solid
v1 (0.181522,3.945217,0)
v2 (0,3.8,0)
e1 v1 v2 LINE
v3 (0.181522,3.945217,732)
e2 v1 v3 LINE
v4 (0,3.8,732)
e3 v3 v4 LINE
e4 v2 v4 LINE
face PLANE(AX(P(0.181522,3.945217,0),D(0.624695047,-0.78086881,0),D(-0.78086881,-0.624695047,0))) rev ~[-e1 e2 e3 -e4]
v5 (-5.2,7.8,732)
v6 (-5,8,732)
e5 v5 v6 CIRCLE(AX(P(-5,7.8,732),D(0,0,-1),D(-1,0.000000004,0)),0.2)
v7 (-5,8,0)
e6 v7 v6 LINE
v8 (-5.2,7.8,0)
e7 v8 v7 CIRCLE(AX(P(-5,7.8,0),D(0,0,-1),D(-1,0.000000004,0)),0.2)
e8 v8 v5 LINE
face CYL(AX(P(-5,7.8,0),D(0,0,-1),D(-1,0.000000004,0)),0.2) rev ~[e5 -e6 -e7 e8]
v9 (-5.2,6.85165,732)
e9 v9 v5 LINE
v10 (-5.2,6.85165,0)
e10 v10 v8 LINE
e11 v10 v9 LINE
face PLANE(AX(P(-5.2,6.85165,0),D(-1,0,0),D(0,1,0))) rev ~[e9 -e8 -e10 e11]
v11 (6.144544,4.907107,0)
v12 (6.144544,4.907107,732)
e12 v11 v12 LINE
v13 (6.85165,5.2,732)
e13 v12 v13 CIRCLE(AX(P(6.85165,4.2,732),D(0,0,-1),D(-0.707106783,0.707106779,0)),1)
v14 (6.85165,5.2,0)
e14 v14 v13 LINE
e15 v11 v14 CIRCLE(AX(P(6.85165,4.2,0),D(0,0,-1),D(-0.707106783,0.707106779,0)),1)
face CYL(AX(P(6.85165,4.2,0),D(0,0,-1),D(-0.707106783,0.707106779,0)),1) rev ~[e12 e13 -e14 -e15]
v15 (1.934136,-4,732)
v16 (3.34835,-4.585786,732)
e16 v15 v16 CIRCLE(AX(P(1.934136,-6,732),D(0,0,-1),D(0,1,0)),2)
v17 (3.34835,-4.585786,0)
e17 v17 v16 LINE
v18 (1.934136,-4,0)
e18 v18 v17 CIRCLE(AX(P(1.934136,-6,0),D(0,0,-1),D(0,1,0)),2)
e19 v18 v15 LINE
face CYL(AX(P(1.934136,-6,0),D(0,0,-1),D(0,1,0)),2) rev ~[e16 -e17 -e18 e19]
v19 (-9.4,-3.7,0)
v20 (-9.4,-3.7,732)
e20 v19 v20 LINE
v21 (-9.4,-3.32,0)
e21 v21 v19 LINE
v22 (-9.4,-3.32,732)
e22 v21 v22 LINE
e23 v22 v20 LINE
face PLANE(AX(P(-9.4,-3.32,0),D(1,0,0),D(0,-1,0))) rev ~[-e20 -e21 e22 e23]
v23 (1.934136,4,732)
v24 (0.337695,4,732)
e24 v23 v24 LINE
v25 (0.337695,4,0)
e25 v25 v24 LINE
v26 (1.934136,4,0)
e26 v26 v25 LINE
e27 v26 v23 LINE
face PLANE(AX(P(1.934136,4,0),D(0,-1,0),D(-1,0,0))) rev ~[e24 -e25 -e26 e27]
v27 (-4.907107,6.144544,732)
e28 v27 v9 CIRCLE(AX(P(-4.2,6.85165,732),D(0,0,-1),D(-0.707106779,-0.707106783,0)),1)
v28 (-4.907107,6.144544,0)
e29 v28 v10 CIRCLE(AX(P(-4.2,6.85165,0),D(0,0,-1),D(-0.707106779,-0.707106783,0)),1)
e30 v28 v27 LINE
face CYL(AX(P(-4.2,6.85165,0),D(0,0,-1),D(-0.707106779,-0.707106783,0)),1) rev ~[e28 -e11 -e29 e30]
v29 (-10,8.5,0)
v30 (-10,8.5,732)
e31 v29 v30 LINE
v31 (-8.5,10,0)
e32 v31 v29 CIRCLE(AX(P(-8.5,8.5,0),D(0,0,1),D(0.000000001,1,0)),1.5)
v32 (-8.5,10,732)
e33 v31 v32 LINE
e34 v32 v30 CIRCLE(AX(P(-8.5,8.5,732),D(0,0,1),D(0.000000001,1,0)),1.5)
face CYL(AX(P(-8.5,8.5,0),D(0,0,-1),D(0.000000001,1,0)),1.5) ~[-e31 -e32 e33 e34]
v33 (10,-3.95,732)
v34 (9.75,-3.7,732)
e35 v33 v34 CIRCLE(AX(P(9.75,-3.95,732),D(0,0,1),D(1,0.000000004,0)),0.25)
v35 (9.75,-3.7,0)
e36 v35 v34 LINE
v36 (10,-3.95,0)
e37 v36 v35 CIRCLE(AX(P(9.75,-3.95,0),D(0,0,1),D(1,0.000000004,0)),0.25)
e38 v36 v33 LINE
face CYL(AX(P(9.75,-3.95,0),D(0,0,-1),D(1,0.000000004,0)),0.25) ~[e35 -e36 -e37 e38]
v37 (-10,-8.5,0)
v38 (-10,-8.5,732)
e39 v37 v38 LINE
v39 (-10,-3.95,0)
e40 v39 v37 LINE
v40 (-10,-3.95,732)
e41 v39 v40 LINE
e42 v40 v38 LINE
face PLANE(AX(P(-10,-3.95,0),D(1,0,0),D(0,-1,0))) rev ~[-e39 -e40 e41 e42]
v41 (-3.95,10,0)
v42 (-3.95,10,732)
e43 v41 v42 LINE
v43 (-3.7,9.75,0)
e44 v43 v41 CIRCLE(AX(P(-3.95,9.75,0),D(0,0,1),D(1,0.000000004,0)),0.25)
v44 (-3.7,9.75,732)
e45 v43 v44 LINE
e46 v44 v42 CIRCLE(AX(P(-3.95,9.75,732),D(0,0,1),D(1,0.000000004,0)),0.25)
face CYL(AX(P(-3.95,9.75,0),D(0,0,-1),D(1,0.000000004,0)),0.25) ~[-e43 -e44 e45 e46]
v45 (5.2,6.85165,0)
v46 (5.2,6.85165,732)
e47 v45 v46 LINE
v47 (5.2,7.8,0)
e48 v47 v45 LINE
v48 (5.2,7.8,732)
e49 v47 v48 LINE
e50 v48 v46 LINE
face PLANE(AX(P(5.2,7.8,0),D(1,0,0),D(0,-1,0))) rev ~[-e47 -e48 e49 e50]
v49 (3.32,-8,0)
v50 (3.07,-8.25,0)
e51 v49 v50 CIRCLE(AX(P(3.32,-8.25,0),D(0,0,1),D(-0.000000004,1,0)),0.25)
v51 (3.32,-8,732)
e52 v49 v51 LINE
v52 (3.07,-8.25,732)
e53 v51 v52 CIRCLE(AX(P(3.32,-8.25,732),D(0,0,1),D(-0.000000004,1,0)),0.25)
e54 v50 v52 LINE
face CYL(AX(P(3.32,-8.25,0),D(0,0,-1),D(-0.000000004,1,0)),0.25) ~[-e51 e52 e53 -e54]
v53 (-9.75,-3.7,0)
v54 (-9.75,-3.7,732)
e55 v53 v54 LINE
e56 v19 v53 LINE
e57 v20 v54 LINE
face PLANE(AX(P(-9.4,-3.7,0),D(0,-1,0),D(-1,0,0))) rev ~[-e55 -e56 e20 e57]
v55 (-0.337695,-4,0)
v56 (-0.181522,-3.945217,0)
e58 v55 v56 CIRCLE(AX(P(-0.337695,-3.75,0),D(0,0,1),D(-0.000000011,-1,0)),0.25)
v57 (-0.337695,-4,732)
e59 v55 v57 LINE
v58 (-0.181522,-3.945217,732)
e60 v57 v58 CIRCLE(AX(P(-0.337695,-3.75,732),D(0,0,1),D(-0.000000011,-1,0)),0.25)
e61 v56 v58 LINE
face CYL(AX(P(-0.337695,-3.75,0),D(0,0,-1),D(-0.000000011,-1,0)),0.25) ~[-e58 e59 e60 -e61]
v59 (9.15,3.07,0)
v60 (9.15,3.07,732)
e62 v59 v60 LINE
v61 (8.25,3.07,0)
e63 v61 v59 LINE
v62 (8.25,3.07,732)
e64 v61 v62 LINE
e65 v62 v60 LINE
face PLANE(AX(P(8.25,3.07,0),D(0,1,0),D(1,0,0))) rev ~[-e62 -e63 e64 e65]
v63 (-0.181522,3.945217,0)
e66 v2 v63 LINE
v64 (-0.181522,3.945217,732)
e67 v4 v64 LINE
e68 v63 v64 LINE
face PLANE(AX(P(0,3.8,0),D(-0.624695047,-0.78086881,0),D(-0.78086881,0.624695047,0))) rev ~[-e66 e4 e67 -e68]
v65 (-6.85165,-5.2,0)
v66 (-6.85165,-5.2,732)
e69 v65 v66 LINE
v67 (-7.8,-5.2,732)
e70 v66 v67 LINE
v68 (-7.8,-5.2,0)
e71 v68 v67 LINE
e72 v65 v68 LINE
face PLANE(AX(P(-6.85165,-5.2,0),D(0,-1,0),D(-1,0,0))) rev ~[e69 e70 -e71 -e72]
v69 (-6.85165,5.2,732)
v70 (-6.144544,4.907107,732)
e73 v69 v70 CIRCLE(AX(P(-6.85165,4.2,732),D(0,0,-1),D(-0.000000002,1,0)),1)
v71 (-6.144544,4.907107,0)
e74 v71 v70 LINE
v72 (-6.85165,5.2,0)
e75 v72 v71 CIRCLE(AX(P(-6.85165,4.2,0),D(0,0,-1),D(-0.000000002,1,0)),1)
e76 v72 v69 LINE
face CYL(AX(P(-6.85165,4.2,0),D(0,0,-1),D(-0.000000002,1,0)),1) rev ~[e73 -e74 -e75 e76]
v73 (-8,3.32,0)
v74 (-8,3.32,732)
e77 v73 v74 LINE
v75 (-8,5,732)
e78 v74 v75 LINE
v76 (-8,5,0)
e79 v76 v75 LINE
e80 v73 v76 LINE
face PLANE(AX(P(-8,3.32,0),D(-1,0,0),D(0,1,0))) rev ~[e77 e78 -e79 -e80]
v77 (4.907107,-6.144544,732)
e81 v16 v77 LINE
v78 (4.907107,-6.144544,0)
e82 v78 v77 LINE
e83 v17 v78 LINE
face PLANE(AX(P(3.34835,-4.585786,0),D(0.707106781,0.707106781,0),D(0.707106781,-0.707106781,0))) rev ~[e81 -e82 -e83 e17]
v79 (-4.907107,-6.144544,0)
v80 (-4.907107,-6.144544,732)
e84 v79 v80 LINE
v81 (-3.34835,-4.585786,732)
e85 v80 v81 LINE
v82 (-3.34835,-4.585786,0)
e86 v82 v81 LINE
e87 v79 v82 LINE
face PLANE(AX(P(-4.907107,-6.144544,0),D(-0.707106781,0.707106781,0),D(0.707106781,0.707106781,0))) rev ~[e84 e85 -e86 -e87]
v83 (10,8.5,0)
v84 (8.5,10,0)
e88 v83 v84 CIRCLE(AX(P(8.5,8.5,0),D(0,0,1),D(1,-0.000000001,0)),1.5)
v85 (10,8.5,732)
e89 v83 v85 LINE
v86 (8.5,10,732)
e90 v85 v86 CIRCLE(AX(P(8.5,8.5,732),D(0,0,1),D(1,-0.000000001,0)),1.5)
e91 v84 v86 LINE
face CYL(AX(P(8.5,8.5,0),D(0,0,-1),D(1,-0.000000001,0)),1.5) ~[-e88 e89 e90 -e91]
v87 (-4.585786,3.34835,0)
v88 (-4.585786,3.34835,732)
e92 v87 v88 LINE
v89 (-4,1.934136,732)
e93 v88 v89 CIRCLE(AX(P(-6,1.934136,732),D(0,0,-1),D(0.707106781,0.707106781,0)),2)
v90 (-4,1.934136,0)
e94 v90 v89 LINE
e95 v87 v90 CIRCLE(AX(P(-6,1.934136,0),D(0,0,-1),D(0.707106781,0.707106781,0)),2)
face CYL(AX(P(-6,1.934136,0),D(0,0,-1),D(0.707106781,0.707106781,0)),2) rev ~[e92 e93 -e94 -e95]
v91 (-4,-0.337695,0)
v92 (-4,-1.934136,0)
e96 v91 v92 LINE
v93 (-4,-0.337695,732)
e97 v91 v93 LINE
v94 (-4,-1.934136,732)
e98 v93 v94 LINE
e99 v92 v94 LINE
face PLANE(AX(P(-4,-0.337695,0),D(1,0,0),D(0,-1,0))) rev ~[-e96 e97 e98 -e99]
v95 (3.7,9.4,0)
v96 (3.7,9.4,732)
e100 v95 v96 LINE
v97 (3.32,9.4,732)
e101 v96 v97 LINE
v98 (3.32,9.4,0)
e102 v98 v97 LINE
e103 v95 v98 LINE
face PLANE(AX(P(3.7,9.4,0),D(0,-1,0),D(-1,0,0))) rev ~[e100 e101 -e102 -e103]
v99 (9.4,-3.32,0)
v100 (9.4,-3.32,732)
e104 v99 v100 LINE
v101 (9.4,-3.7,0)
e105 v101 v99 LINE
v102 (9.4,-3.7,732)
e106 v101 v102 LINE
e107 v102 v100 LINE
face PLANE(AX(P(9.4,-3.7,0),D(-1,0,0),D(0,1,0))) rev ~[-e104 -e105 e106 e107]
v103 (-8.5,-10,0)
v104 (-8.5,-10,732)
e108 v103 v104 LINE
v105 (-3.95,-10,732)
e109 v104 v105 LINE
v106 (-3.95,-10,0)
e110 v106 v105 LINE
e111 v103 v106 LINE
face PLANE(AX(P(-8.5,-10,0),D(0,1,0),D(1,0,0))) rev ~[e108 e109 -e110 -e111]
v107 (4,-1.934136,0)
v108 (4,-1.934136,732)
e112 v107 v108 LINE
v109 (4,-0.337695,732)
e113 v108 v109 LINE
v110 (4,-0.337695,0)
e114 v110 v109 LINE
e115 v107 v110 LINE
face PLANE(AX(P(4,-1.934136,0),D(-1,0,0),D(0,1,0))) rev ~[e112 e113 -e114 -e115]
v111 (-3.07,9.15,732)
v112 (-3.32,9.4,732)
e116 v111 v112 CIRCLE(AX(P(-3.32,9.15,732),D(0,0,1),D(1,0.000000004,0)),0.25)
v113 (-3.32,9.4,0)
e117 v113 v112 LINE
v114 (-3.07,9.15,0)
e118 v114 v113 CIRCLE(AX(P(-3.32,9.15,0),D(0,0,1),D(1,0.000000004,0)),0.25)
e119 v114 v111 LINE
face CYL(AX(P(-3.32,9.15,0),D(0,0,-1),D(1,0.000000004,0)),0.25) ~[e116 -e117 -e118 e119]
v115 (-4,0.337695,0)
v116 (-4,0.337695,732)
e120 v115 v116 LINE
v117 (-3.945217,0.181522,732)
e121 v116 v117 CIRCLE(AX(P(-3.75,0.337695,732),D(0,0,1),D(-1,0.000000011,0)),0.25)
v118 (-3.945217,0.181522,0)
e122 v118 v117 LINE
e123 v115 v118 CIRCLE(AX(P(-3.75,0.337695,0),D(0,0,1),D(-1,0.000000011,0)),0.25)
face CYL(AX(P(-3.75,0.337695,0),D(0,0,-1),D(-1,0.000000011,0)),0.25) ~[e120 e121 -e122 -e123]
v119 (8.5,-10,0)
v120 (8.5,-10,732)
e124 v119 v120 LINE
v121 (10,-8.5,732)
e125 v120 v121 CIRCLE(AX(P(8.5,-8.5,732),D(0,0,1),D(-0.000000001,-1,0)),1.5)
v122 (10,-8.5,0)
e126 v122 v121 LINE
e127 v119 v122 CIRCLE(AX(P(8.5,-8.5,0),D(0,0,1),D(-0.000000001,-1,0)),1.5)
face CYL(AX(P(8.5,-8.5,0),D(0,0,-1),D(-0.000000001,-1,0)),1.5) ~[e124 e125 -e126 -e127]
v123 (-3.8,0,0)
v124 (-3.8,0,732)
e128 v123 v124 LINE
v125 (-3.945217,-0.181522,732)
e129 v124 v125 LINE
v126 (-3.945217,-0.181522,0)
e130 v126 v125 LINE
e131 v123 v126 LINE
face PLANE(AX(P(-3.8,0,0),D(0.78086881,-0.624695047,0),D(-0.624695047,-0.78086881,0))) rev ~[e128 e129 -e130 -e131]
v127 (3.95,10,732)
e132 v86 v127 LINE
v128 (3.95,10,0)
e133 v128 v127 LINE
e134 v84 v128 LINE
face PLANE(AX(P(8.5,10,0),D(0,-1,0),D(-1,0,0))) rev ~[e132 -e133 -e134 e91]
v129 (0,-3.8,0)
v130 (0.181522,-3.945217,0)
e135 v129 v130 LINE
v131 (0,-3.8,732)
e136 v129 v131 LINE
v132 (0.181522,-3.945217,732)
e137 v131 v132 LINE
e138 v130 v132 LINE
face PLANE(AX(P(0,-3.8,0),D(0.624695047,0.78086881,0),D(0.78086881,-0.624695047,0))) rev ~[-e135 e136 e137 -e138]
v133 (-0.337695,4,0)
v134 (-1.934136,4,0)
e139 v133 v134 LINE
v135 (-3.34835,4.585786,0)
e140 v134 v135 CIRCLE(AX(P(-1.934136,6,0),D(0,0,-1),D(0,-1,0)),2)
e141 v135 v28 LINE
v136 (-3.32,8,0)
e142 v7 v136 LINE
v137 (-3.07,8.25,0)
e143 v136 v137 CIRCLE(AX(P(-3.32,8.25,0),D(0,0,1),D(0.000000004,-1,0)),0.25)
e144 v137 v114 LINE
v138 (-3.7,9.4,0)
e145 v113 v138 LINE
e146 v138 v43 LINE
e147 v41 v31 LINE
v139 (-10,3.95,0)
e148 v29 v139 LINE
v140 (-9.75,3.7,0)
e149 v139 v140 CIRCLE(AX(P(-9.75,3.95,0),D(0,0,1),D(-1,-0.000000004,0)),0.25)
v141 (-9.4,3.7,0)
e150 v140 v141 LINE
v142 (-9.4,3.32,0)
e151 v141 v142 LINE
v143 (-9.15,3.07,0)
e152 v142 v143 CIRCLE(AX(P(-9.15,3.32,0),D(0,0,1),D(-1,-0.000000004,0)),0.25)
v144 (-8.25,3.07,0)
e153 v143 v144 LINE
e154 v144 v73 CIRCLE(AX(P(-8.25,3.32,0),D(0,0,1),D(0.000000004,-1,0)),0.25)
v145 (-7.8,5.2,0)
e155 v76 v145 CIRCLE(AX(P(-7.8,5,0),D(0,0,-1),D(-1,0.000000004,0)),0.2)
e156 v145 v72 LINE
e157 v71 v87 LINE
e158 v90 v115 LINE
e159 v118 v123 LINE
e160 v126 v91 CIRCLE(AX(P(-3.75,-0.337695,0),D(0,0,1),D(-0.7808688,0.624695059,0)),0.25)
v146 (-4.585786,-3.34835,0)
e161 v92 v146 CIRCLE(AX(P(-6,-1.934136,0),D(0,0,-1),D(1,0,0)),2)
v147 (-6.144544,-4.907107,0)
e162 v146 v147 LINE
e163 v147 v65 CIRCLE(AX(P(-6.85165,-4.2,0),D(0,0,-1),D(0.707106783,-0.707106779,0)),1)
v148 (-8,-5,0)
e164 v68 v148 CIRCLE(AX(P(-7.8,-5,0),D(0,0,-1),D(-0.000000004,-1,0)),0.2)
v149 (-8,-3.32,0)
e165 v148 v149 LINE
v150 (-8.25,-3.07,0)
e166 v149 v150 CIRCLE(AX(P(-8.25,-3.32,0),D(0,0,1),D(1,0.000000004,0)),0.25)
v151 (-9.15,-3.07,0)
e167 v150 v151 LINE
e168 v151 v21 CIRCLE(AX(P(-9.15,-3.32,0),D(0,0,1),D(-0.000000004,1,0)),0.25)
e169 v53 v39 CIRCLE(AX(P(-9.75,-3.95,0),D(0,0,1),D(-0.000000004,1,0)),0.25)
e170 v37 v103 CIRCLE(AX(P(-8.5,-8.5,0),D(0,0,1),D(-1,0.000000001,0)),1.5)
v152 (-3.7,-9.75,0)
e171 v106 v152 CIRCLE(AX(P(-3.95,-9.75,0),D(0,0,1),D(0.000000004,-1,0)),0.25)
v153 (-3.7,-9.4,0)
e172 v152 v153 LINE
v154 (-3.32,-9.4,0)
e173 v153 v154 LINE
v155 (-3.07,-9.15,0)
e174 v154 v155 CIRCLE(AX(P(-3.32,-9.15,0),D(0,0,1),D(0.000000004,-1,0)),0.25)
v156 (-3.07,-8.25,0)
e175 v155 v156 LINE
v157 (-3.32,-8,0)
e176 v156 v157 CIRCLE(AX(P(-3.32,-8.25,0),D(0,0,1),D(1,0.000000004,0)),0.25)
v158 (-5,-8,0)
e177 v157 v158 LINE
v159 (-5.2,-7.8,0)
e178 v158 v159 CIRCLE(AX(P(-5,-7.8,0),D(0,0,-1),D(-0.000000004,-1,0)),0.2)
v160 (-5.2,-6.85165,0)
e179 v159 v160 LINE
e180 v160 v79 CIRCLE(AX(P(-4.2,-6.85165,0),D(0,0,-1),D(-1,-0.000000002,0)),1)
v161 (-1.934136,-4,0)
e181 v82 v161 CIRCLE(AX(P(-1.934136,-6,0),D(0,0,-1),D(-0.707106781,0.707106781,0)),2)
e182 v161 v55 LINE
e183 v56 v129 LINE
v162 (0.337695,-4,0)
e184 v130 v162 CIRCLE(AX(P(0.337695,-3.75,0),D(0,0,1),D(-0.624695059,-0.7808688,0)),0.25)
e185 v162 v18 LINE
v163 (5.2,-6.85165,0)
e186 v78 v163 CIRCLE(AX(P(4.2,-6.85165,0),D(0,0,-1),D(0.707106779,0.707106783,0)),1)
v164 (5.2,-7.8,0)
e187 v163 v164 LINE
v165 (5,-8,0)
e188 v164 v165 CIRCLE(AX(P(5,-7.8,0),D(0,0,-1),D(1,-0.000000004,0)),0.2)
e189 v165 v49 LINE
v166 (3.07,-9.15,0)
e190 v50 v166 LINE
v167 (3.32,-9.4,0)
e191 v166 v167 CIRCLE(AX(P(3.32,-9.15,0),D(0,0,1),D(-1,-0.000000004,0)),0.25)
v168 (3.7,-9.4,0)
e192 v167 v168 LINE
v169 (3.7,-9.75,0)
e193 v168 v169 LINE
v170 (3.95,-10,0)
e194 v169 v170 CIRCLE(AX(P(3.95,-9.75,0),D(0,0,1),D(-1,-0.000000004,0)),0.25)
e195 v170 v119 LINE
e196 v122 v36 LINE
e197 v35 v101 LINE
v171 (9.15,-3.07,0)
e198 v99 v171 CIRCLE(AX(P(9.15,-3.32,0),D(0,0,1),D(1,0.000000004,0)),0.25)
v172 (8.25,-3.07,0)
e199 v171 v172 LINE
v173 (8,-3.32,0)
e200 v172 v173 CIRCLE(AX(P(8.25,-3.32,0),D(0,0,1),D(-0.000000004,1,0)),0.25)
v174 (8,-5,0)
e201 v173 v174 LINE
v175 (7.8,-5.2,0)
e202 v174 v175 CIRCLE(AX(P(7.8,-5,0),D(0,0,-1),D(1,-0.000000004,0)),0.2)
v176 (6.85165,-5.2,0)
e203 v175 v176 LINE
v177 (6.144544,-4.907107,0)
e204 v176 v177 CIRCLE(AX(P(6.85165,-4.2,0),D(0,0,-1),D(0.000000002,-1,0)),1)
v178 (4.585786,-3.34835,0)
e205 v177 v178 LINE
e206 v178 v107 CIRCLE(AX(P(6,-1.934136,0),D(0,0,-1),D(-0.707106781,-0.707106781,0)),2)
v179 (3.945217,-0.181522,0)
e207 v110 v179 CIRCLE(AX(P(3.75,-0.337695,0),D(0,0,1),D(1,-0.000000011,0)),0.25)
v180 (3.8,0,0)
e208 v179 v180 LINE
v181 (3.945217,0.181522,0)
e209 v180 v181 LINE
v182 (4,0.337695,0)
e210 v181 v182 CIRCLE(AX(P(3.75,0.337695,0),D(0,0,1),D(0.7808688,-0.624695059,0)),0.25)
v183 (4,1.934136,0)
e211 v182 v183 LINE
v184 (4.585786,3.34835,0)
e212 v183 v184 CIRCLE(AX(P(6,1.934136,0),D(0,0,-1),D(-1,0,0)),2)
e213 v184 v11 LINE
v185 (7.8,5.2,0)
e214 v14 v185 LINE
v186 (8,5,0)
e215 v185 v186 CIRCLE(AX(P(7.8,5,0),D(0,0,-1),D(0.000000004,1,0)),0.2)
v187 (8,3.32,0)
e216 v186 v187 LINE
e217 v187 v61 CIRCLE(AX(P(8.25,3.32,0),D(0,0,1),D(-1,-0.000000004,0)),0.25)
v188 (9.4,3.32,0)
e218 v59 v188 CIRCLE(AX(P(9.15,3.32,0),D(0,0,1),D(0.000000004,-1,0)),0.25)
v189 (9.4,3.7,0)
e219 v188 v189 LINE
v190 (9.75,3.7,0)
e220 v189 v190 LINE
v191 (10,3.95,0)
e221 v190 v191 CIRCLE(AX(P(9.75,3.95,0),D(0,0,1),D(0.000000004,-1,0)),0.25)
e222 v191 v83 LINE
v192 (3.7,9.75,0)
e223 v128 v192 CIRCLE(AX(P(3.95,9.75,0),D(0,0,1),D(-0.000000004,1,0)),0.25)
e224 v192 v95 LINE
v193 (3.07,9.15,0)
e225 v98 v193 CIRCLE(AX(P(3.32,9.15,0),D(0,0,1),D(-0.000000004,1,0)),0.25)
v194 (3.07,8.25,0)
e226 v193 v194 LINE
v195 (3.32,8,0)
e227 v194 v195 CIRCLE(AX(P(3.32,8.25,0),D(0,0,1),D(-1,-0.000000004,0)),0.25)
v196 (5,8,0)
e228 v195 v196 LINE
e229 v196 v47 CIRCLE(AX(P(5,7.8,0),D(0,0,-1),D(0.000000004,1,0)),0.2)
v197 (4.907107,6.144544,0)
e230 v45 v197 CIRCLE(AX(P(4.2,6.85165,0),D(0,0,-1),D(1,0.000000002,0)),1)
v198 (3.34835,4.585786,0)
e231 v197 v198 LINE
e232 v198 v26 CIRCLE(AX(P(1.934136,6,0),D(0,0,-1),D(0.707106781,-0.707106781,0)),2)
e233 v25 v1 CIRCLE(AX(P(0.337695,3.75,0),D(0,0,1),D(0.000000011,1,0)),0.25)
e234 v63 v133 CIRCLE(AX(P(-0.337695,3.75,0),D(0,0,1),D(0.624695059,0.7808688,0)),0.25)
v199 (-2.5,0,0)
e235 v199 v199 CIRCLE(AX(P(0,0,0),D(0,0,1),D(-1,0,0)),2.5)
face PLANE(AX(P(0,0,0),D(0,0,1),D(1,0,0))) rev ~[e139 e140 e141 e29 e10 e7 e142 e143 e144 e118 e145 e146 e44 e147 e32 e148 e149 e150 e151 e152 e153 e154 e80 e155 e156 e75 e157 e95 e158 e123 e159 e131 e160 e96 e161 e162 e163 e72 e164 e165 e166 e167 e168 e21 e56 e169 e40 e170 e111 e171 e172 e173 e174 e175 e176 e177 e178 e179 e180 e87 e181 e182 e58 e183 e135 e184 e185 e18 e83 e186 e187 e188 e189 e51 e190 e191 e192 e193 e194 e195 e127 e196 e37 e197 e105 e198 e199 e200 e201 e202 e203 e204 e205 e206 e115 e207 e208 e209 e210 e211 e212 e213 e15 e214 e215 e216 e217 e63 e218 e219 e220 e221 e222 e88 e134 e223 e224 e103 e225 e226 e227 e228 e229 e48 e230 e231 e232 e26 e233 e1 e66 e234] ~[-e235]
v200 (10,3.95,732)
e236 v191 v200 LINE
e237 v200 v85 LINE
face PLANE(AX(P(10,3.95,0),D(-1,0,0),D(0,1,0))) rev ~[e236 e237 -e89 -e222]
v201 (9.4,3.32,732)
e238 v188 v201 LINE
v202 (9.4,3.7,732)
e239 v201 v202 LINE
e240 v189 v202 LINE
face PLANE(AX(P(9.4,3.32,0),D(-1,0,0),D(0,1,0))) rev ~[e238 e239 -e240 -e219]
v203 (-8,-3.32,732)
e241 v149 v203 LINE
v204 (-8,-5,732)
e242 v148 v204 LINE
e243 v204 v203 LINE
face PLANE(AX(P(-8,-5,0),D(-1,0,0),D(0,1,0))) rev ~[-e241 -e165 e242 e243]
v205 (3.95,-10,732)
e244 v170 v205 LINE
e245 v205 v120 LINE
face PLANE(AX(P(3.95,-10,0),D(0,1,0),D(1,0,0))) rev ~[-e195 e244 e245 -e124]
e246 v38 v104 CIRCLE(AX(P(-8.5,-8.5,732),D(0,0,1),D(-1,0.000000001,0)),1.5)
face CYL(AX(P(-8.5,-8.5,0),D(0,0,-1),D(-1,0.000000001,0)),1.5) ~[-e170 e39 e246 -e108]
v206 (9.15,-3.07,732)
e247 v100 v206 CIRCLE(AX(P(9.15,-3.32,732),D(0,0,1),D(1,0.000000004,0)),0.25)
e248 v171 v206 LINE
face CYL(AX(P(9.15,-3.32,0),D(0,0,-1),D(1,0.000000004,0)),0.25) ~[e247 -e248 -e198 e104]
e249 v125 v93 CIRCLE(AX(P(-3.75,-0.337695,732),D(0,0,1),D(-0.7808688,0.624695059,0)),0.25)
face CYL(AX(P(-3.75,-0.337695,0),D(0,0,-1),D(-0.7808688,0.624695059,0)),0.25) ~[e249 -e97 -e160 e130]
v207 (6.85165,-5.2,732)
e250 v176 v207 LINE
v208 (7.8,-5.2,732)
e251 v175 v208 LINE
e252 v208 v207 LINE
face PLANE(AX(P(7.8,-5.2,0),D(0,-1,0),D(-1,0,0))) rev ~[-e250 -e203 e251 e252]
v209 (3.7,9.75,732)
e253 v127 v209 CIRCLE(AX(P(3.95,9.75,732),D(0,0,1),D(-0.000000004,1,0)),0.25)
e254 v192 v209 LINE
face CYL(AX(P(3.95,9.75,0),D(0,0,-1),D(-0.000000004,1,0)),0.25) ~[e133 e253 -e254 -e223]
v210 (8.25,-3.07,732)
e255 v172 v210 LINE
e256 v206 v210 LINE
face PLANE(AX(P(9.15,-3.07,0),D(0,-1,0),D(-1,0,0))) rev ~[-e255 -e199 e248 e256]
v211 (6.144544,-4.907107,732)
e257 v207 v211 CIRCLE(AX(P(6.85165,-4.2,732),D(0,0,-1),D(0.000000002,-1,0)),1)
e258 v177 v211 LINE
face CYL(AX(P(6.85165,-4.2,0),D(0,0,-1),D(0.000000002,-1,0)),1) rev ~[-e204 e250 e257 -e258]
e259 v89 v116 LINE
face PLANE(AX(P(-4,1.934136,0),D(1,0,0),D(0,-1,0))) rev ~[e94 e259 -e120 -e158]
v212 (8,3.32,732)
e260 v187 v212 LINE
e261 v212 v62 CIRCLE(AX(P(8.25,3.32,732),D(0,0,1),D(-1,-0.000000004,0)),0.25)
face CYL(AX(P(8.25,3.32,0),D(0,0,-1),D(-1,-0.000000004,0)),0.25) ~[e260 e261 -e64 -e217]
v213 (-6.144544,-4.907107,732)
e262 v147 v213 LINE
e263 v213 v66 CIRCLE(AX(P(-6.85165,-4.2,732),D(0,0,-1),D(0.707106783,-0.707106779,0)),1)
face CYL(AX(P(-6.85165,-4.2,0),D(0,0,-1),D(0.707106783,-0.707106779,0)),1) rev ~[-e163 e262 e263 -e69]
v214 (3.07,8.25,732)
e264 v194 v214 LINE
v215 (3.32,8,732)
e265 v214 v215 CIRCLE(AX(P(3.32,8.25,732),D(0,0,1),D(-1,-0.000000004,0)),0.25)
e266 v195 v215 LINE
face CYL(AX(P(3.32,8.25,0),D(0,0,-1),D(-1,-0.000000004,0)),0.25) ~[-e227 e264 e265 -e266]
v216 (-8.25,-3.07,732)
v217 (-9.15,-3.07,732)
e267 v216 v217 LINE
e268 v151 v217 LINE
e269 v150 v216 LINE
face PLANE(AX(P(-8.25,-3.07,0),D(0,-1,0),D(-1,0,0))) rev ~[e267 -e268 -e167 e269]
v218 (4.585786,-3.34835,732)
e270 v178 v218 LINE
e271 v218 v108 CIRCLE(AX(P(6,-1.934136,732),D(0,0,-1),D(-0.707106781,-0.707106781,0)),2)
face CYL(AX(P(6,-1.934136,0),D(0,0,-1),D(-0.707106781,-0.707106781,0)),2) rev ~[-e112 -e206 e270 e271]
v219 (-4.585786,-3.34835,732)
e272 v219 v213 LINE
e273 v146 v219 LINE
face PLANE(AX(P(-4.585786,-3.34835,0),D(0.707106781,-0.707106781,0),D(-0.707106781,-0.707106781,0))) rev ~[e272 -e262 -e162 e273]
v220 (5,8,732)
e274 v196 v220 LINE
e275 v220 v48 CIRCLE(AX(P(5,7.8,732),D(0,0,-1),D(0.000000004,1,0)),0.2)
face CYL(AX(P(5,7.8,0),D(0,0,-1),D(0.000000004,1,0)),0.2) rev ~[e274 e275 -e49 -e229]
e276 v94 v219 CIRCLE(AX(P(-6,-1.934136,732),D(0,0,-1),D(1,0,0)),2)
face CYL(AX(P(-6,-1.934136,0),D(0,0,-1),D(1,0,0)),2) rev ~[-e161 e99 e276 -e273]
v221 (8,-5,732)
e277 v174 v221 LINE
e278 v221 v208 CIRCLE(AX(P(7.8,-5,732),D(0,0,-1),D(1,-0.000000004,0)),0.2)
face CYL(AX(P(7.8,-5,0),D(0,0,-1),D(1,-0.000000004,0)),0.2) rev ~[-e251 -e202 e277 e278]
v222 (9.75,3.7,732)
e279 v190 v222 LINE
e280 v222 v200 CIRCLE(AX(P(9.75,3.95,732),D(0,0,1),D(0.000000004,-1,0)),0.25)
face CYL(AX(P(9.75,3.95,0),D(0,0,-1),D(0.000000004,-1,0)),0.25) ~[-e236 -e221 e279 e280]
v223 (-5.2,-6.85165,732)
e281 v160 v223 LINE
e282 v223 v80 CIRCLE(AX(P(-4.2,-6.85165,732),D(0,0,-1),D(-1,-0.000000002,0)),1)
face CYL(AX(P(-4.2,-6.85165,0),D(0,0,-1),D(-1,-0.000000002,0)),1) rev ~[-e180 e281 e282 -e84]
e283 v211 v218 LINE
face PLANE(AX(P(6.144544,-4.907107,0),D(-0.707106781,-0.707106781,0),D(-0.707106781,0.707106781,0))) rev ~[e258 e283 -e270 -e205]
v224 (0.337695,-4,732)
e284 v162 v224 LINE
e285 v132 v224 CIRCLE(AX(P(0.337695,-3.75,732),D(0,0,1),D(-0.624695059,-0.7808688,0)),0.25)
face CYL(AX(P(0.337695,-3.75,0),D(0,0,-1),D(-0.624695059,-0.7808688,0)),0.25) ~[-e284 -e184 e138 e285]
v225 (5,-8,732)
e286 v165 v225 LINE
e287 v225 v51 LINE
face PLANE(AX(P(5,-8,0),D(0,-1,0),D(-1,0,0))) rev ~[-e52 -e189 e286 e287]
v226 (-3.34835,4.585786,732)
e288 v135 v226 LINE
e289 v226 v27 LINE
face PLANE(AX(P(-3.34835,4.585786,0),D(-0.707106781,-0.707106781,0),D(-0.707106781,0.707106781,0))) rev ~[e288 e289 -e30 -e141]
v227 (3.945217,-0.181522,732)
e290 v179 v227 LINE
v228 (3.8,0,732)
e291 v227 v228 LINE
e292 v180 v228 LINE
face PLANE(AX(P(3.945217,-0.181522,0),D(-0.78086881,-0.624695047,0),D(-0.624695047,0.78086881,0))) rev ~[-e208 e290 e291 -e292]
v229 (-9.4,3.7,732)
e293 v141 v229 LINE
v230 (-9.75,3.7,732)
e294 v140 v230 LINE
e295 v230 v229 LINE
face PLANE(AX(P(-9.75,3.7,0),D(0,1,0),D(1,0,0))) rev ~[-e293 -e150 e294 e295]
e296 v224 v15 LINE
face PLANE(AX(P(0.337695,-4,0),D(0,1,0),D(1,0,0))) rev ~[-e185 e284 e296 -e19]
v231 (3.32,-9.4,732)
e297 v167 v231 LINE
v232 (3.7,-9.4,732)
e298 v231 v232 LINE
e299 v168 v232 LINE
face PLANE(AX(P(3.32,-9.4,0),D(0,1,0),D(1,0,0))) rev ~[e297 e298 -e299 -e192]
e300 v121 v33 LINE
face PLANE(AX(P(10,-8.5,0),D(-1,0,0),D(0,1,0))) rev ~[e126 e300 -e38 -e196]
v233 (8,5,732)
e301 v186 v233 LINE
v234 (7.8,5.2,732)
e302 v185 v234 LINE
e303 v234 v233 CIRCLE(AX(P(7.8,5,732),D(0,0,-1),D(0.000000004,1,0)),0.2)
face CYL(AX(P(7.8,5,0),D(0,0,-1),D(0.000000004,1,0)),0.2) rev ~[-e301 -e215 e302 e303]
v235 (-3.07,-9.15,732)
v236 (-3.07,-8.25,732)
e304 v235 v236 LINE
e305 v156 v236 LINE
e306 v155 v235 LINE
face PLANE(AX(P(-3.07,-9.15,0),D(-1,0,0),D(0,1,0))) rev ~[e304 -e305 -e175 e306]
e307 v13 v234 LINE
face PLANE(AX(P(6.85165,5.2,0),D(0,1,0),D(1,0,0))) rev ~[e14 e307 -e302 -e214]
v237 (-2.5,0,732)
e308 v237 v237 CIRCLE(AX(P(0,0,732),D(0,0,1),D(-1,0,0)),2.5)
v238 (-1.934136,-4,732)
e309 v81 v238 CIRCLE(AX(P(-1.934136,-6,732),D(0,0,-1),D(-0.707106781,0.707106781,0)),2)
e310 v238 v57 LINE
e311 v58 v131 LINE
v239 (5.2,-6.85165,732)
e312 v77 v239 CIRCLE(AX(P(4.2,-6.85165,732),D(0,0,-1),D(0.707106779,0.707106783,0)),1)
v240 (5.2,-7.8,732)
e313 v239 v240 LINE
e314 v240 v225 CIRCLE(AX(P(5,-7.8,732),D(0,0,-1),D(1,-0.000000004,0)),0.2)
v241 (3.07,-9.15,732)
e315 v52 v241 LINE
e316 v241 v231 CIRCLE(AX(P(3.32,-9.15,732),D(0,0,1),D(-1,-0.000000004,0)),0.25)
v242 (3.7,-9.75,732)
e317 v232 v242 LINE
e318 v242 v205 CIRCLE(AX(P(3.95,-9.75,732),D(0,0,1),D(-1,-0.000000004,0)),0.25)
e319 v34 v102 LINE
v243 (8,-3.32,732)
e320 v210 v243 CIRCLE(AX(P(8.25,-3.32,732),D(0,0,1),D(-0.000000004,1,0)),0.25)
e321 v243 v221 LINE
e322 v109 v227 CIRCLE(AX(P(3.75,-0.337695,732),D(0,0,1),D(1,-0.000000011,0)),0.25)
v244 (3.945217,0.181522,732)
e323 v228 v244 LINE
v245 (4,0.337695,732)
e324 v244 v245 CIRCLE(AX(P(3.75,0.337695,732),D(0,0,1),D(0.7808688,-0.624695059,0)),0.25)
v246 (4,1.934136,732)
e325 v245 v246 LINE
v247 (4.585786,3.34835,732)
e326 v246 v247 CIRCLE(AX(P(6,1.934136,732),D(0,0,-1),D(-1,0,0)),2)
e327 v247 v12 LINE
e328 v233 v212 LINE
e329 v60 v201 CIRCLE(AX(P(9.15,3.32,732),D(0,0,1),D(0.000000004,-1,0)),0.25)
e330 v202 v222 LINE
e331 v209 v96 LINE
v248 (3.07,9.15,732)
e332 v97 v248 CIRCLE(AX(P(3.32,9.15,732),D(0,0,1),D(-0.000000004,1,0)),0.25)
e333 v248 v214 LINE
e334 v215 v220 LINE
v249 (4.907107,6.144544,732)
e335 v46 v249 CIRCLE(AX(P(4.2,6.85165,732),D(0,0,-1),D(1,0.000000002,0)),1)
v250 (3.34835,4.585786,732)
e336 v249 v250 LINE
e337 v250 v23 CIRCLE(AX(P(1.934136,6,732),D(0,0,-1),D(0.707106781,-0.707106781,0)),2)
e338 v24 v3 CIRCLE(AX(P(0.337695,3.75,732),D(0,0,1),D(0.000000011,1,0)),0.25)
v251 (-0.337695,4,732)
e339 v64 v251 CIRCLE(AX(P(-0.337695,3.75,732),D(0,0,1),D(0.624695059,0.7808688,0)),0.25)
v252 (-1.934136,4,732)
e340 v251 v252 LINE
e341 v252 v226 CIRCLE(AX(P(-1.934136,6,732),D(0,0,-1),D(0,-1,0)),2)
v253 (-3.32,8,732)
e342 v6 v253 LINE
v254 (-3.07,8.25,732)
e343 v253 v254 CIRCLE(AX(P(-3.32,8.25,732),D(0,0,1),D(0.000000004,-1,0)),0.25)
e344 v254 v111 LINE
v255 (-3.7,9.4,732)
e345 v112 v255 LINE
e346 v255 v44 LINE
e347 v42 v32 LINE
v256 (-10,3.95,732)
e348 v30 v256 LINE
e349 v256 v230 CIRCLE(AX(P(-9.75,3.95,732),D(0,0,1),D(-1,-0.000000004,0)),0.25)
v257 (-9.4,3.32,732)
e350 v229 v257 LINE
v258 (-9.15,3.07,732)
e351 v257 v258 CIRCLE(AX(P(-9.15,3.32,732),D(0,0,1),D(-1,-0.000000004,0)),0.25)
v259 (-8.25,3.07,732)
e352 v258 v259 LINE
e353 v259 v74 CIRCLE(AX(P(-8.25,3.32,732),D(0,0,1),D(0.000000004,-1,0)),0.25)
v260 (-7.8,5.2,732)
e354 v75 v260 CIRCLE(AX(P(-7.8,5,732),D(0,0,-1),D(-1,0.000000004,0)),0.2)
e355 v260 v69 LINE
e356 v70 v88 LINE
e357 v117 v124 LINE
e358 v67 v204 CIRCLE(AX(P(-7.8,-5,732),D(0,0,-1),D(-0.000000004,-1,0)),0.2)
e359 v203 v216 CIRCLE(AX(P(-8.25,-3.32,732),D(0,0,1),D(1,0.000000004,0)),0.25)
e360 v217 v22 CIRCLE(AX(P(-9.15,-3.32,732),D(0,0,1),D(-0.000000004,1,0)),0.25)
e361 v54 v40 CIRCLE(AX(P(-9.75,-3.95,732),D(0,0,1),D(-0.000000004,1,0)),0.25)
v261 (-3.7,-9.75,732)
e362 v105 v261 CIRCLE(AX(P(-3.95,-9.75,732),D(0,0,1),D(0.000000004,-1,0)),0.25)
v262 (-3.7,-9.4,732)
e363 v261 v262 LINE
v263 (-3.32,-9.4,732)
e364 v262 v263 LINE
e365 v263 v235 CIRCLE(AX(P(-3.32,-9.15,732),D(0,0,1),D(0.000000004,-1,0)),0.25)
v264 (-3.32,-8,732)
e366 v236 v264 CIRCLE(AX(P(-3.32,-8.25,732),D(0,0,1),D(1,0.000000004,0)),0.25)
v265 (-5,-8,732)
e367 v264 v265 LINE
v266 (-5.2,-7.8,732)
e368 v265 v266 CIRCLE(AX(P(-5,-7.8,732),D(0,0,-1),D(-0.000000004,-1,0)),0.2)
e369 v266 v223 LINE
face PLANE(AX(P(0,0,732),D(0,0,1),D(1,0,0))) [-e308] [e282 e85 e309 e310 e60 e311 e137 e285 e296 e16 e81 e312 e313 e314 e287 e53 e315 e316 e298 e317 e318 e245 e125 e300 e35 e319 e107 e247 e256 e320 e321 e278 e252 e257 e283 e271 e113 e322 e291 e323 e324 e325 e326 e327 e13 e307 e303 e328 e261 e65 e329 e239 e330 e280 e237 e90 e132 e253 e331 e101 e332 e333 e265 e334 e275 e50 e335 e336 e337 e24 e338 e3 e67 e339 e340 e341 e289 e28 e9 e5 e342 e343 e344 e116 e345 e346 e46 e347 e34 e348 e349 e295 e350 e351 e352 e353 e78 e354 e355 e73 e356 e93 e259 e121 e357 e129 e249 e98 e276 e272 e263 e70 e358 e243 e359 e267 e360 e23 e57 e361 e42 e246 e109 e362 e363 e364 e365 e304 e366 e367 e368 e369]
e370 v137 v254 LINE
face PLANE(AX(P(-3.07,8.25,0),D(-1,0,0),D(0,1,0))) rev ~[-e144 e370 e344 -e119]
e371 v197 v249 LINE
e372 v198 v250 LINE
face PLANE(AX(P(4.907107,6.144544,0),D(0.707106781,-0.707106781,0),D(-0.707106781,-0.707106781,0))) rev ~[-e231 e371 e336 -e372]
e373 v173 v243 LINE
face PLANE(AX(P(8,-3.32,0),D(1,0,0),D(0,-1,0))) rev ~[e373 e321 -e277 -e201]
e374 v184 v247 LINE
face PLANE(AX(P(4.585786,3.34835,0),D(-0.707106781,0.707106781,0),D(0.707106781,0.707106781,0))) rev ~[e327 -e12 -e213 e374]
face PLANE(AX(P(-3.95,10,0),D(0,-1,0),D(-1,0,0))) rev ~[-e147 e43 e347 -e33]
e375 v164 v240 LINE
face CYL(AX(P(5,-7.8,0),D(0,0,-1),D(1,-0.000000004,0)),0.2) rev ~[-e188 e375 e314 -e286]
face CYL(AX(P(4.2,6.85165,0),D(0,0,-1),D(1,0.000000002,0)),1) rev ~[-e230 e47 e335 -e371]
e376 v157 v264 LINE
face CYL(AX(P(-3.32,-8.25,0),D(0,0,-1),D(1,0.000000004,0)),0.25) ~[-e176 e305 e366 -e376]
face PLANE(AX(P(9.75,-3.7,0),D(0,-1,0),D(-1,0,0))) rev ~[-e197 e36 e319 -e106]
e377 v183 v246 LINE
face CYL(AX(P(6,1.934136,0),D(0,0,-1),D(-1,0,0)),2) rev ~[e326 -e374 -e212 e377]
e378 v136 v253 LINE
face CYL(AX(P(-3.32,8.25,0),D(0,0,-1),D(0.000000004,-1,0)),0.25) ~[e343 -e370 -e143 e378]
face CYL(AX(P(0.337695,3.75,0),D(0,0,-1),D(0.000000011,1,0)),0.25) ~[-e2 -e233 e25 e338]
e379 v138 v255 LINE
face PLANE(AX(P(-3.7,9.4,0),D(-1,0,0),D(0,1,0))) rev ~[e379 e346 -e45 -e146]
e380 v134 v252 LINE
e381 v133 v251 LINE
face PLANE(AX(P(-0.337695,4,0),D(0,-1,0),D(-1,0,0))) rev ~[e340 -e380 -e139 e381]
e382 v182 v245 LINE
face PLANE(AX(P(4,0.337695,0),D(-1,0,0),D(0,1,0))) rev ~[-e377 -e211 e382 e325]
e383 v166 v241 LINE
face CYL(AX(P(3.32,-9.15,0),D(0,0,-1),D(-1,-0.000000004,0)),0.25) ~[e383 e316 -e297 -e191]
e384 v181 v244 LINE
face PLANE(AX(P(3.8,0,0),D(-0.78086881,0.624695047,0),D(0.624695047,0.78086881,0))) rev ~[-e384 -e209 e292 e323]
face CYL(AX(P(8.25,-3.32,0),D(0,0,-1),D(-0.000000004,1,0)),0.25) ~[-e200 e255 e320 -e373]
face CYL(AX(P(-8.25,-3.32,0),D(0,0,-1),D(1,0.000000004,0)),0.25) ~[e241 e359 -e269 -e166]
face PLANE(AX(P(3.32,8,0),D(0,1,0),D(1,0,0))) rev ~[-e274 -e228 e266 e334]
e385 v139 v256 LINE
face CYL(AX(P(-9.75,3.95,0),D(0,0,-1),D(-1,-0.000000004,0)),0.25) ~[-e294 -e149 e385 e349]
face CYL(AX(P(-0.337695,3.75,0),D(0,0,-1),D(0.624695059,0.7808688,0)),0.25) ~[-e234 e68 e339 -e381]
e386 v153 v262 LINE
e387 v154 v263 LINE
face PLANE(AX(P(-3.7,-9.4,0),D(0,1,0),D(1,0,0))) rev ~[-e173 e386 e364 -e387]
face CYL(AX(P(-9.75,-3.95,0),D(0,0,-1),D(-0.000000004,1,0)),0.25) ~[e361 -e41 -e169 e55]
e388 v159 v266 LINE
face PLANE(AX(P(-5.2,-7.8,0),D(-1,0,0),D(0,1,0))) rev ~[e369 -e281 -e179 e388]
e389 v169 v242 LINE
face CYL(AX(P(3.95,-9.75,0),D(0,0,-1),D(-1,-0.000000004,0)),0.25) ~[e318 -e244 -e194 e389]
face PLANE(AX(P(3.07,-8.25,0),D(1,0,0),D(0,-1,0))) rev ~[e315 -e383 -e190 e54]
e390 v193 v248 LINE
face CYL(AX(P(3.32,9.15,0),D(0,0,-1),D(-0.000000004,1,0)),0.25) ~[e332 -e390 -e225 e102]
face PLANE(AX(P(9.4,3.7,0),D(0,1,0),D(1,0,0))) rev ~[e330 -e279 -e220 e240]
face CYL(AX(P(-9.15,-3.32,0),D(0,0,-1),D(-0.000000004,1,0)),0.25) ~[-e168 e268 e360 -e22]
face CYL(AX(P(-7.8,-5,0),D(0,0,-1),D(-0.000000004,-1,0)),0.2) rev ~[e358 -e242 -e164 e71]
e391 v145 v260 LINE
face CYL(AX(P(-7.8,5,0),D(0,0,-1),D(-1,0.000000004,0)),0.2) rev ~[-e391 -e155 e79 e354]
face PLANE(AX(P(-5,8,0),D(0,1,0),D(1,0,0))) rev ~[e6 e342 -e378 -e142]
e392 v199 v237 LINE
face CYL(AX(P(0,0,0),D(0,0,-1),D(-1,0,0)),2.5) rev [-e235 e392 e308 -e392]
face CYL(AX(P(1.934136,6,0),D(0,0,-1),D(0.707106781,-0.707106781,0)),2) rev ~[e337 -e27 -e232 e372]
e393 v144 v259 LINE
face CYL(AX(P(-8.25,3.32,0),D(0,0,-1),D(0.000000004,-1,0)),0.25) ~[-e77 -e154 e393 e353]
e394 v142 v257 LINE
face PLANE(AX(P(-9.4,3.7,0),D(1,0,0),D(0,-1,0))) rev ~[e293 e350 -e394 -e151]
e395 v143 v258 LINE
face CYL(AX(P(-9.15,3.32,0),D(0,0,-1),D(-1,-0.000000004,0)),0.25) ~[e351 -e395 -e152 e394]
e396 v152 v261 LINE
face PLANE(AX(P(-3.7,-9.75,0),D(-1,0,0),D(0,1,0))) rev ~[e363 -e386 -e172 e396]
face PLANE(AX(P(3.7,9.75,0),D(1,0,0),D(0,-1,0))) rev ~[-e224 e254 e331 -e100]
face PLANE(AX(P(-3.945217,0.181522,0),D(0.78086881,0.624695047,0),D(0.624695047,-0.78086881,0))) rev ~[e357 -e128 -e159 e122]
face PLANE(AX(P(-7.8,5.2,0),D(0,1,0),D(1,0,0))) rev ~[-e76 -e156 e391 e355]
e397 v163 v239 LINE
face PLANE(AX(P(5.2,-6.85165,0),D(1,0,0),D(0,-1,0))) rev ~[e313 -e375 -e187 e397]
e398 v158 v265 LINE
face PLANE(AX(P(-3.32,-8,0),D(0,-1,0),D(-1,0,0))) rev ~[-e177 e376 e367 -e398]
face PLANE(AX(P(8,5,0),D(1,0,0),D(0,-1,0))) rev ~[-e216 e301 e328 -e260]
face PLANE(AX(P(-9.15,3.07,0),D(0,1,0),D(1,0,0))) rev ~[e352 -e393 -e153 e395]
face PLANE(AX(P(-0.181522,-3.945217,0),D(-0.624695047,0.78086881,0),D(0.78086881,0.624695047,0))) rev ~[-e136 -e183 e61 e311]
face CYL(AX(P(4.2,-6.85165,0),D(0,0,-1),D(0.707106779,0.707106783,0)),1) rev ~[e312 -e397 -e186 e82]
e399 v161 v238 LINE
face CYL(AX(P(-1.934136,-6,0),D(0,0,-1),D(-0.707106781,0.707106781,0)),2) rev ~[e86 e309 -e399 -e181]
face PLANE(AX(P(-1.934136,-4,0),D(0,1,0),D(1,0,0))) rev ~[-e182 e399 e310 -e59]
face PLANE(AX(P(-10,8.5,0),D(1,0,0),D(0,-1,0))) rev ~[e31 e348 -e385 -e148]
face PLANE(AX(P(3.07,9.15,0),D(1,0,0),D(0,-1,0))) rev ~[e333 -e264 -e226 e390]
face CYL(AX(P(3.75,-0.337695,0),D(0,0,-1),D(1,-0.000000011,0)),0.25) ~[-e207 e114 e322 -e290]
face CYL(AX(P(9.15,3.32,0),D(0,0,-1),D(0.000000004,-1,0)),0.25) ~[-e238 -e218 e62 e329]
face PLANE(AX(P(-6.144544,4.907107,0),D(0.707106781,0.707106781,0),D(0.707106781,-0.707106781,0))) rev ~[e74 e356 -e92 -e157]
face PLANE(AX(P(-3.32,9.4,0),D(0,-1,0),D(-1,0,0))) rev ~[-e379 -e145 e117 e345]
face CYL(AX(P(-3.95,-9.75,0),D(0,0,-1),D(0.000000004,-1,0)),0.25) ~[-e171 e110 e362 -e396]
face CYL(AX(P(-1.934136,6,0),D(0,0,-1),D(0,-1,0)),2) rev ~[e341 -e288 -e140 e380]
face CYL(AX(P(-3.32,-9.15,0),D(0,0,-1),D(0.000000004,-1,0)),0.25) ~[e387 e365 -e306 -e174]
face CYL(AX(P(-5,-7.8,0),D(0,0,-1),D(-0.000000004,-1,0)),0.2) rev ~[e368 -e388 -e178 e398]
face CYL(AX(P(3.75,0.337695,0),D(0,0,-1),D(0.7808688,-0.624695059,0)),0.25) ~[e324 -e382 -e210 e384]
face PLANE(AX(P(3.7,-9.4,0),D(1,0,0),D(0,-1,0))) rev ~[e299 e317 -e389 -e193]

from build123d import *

# Parameters (mm, degrees)
EXTRUDE_1_DEPTH = 732


with BuildPart() as part:
    # Эскиз1 → Бобышка-Вытянуть1 (new body)
    with BuildSketch(Plane.XY):
        with BuildLine():
            Line((-3.8, 0), (-3.945217202, -0.181521503))
            ThreePointArc((-3.945217202, -0.181521503), (-3.98590708, -0.254943529), (-4, -0.337695265))
            Line((-4, -0.337695265), (-4, -1.934136008))
            ThreePointArc((-4, -1.934136008), (-4.152240935, -2.699502873), (-4.585786438, -3.348349571))
            Line((-4.585786438, -3.348349571), (-6.144543648, -4.907106781))
            ThreePointArc((-6.144543648, -4.907106781), (-6.468966997, -5.123879533), (-6.851650429, -5.2))
            Line((-6.851650429, -5.2), (-7.8, -5.2))
            ThreePointArc((-7.8, -5.2), (-7.941421356, -5.141421356), (-8, -5))
            Line((-8, -5), (-8, -3.32))
            ThreePointArc((-8, -3.32), (-8.073223305, -3.143223305), (-8.25, -3.07))
            Line((-8.25, -3.07), (-9.15, -3.07))
            ThreePointArc((-9.15, -3.07), (-9.326776695, -3.143223305), (-9.4, -3.32))
            Line((-9.4, -3.32), (-9.4, -3.7))
            Line((-9.4, -3.7), (-9.75, -3.7))
            ThreePointArc((-9.75, -3.7), (-9.926776695, -3.773223305), (-10, -3.95))
            Line((-10, -3.95), (-10, -8.5))
            ThreePointArc((-10, -8.5), (-9.560660172, -9.560660172), (-8.5, -10))
            Line((-8.5, -10), (-3.95, -10))
            ThreePointArc((-3.95, -10), (-3.773223305, -9.926776695), (-3.7, -9.75))
            Line((-3.7, -9.75), (-3.7, -9.4))
            Line((-3.7, -9.4), (-3.32, -9.4))
            ThreePointArc((-3.32, -9.4), (-3.143223305, -9.326776695), (-3.07, -9.15))
            Line((-3.07, -9.15), (-3.07, -8.25))
            ThreePointArc((-3.07, -8.25), (-3.143223305, -8.073223305), (-3.32, -8))
            Line((-3.32, -8), (-5, -8))
            ThreePointArc((-5, -8), (-5.141421356, -7.941421356), (-5.2, -7.8))
            Line((-5.2, -7.8), (-5.2, -6.851650429))
            ThreePointArc((-5.2, -6.851650429), (-5.123879533, -6.468966997), (-4.907106781, -6.144543648))
            Line((-4.907106781, -6.144543648), (-3.348349571, -4.585786438))
            ThreePointArc((-3.348349571, -4.585786438), (-2.699502873, -4.152240935), (-1.934136008, -4))
            Line((-1.934136008, -4), (-0.337695265, -4))
            ThreePointArc((-0.337695265, -4), (-0.254943529, -3.98590708), (-0.181521503, -3.945217202))
            Line((-0.181521503, -3.945217202), (0, -3.8))
            Line((0, -3.8), (0.181521503, -3.945217202))
            ThreePointArc((0.181521503, -3.945217202), (0.254943529, -3.98590708), (0.337695265, -4))
            Line((0.337695265, -4), (1.934136008, -4))
            ThreePointArc((1.934136008, -4), (2.699502873, -4.152240935), (3.348349571, -4.585786438))
            Line((3.348349571, -4.585786438), (4.907106781, -6.144543648))
            ThreePointArc((4.907106781, -6.144543648), (5.123879533, -6.468966997), (5.2, -6.851650429))
            Line((5.2, -6.851650429), (5.2, -7.8))
            ThreePointArc((5.2, -7.8), (5.141421356, -7.941421356), (5, -8))
            Line((5, -8), (3.32, -8))
            ThreePointArc((3.32, -8), (3.143223305, -8.073223305), (3.07, -8.25))
            Line((3.07, -8.25), (3.07, -9.15))
            ThreePointArc((3.07, -9.15), (3.143223305, -9.326776695), (3.32, -9.4))
            Line((3.32, -9.4), (3.7, -9.4))
            Line((3.7, -9.4), (3.7, -9.75))
            ThreePointArc((3.7, -9.75), (3.773223305, -9.926776695), (3.95, -10))
            Line((3.95, -10), (8.5, -10))
            ThreePointArc((8.5, -10), (9.560660172, -9.560660172), (10, -8.5))
            Line((10, -8.5), (10, -3.95))
            ThreePointArc((10, -3.95), (9.926776695, -3.773223305), (9.75, -3.7))
            Line((9.75, -3.7), (9.4, -3.7))
            Line((9.4, -3.7), (9.4, -3.32))
            ThreePointArc((9.4, -3.32), (9.326776695, -3.143223305), (9.15, -3.07))
            Line((9.15, -3.07), (8.25, -3.07))
            ThreePointArc((8.25, -3.07), (8.073223305, -3.143223305), (8, -3.32))
            Line((8, -3.32), (8, -5))
            ThreePointArc((8, -5), (7.941421356, -5.141421356), (7.8, -5.2))
            Line((7.8, -5.2), (6.851650429, -5.2))
            ThreePointArc((6.851650429, -5.2), (6.468966997, -5.123879533), (6.144543648, -4.907106781))
            Line((6.144543648, -4.907106781), (4.585786438, -3.348349571))
            ThreePointArc((4.585786438, -3.348349571), (4.152240935, -2.699502873), (4, -1.934136008))
            Line((4, -1.934136008), (4, -0.337695265))
            ThreePointArc((4, -0.337695265), (3.98590708, -0.254943529), (3.945217202, -0.181521503))
            Line((3.945217202, -0.181521503), (3.8, 0))
            Line((3.8, 0), (3.945217202, 0.181521503))
            ThreePointArc((3.945217202, 0.181521503), (3.98590708, 0.254943529), (4, 0.337695265))
            Line((4, 0.337695265), (4, 1.934136008))
            ThreePointArc((4, 1.934136008), (4.152240935, 2.699502873), (4.585786438, 3.348349571))
            Line((4.585786438, 3.348349571), (6.144543648, 4.907106781))
            ThreePointArc((6.144543648, 4.907106781), (6.468966997, 5.123879533), (6.851650429, 5.2))
            Line((6.851650429, 5.2), (7.8, 5.2))
            ThreePointArc((7.8, 5.2), (7.941421356, 5.141421356), (8, 5))
            Line((8, 5), (8, 3.32))
            ThreePointArc((8, 3.32), (8.073223305, 3.143223305), (8.25, 3.07))
            Line((8.25, 3.07), (9.15, 3.07))
            ThreePointArc((9.15, 3.07), (9.326776695, 3.143223305), (9.4, 3.32))
            Line((9.4, 3.32), (9.4, 3.7))
            Line((9.4, 3.7), (9.75, 3.7))
            ThreePointArc((9.75, 3.7), (9.926776695, 3.773223305), (10, 3.95))
            Line((10, 3.95), (10, 8.5))
            ThreePointArc((10, 8.5), (9.560660172, 9.560660172), (8.5, 10))
            Line((8.5, 10), (3.95, 10))
            ThreePointArc((3.95, 10), (3.773223305, 9.926776695), (3.7, 9.75))
            Line((3.7, 9.75), (3.7, 9.4))
            Line((3.7, 9.4), (3.32, 9.4))
            ThreePointArc((3.32, 9.4), (3.143223305, 9.326776695), (3.07, 9.15))
            Line((3.07, 9.15), (3.07, 8.25))
            ThreePointArc((3.07, 8.25), (3.143223305, 8.073223305), (3.32, 8))
            Line((3.32, 8), (5, 8))
            ThreePointArc((5, 8), (5.141421356, 7.941421356), (5.2, 7.8))
            Line((5.2, 7.8), (5.2, 6.851650429))
            ThreePointArc((5.2, 6.851650429), (5.123879533, 6.468966997), (4.907106781, 6.144543648))
            Line((4.907106781, 6.144543648), (3.348349571, 4.585786438))
            ThreePointArc((3.348349571, 4.585786438), (2.699502873, 4.152240935), (1.934136008, 4))
            Line((1.934136008, 4), (0.337695265, 4))
            ThreePointArc((0.337695265, 4), (0.254943529, 3.98590708), (0.181521503, 3.945217202))
            Line((0.181521503, 3.945217202), (0, 3.8))
            Line((0, 3.8), (-0.181521503, 3.945217202))
            ThreePointArc((-0.181521503, 3.945217202), (-0.254943529, 3.98590708), (-0.337695265, 4))
            Line((-0.337695265, 4), (-1.934136008, 4))
            ThreePointArc((-1.934136008, 4), (-2.699502873, 4.152240935), (-3.348349571, 4.585786438))
            Line((-3.348349571, 4.585786438), (-4.907106781, 6.144543648))
            ThreePointArc((-4.907106781, 6.144543648), (-5.123879533, 6.468966997), (-5.2, 6.851650429))
            Line((-5.2, 6.851650429), (-5.2, 7.8))
            ThreePointArc((-5.2, 7.8), (-5.141421356, 7.941421356), (-5, 8))
            Line((-5, 8), (-3.32, 8))
            ThreePointArc((-3.32, 8), (-3.143223305, 8.073223305), (-3.07, 8.25))
            Line((-3.07, 8.25), (-3.07, 9.15))
            ThreePointArc((-3.07, 9.15), (-3.143223305, 9.326776695), (-3.32, 9.4))
            Line((-3.32, 9.4), (-3.7, 9.4))
            Line((-3.7, 9.4), (-3.7, 9.75))
            ThreePointArc((-3.7, 9.75), (-3.773223305, 9.926776695), (-3.95, 10))
            Line((-3.95, 10), (-8.5, 10))
            ThreePointArc((-8.5, 10), (-9.560660172, 9.560660172), (-10, 8.5))
            Line((-10, 8.5), (-10, 3.95))
            ThreePointArc((-10, 3.95), (-9.926776695, 3.773223305), (-9.75, 3.7))
            Line((-9.75, 3.7), (-9.4, 3.7))
            Line((-9.4, 3.7), (-9.4, 3.32))
            ThreePointArc((-9.4, 3.32), (-9.326776695, 3.143223305), (-9.15, 3.07))
            Line((-9.15, 3.07), (-8.25, 3.07))
            ThreePointArc((-8.25, 3.07), (-8.073223305, 3.143223305), (-8, 3.32))
            Line((-8, 3.32), (-8, 5))
            ThreePointArc((-8, 5), (-7.941421356, 5.141421356), (-7.8, 5.2))
            Line((-7.8, 5.2), (-6.851650429, 5.2))
            ThreePointArc((-6.851650429, 5.2), (-6.468966997, 5.123879533), (-6.144543648, 4.907106781))
            Line((-6.144543648, 4.907106781), (-4.585786438, 3.348349571))
            ThreePointArc((-4.585786438, 3.348349571), (-4.152240935, 2.699502873), (-4, 1.934136008))
            Line((-4, 1.934136008), (-4, 0.337695265))
            ThreePointArc((-4, 0.337695265), (-3.98590708, 0.254943529), (-3.945217202, 0.181521503))
            Line((-3.945217202, 0.181521503), (-3.8, 0))
        make_face()
        with BuildLine():
            ThreePointArc((2.5, 0), (0, 2.5), (-2.5, 0))
            ThreePointArc((-2.5, 0), (0, -2.5), (2.5, 0))
        make_face(mode=Mode.SUBTRACT)
    extrude(amount=EXTRUDE_1_DEPTH)


solid = part.part
